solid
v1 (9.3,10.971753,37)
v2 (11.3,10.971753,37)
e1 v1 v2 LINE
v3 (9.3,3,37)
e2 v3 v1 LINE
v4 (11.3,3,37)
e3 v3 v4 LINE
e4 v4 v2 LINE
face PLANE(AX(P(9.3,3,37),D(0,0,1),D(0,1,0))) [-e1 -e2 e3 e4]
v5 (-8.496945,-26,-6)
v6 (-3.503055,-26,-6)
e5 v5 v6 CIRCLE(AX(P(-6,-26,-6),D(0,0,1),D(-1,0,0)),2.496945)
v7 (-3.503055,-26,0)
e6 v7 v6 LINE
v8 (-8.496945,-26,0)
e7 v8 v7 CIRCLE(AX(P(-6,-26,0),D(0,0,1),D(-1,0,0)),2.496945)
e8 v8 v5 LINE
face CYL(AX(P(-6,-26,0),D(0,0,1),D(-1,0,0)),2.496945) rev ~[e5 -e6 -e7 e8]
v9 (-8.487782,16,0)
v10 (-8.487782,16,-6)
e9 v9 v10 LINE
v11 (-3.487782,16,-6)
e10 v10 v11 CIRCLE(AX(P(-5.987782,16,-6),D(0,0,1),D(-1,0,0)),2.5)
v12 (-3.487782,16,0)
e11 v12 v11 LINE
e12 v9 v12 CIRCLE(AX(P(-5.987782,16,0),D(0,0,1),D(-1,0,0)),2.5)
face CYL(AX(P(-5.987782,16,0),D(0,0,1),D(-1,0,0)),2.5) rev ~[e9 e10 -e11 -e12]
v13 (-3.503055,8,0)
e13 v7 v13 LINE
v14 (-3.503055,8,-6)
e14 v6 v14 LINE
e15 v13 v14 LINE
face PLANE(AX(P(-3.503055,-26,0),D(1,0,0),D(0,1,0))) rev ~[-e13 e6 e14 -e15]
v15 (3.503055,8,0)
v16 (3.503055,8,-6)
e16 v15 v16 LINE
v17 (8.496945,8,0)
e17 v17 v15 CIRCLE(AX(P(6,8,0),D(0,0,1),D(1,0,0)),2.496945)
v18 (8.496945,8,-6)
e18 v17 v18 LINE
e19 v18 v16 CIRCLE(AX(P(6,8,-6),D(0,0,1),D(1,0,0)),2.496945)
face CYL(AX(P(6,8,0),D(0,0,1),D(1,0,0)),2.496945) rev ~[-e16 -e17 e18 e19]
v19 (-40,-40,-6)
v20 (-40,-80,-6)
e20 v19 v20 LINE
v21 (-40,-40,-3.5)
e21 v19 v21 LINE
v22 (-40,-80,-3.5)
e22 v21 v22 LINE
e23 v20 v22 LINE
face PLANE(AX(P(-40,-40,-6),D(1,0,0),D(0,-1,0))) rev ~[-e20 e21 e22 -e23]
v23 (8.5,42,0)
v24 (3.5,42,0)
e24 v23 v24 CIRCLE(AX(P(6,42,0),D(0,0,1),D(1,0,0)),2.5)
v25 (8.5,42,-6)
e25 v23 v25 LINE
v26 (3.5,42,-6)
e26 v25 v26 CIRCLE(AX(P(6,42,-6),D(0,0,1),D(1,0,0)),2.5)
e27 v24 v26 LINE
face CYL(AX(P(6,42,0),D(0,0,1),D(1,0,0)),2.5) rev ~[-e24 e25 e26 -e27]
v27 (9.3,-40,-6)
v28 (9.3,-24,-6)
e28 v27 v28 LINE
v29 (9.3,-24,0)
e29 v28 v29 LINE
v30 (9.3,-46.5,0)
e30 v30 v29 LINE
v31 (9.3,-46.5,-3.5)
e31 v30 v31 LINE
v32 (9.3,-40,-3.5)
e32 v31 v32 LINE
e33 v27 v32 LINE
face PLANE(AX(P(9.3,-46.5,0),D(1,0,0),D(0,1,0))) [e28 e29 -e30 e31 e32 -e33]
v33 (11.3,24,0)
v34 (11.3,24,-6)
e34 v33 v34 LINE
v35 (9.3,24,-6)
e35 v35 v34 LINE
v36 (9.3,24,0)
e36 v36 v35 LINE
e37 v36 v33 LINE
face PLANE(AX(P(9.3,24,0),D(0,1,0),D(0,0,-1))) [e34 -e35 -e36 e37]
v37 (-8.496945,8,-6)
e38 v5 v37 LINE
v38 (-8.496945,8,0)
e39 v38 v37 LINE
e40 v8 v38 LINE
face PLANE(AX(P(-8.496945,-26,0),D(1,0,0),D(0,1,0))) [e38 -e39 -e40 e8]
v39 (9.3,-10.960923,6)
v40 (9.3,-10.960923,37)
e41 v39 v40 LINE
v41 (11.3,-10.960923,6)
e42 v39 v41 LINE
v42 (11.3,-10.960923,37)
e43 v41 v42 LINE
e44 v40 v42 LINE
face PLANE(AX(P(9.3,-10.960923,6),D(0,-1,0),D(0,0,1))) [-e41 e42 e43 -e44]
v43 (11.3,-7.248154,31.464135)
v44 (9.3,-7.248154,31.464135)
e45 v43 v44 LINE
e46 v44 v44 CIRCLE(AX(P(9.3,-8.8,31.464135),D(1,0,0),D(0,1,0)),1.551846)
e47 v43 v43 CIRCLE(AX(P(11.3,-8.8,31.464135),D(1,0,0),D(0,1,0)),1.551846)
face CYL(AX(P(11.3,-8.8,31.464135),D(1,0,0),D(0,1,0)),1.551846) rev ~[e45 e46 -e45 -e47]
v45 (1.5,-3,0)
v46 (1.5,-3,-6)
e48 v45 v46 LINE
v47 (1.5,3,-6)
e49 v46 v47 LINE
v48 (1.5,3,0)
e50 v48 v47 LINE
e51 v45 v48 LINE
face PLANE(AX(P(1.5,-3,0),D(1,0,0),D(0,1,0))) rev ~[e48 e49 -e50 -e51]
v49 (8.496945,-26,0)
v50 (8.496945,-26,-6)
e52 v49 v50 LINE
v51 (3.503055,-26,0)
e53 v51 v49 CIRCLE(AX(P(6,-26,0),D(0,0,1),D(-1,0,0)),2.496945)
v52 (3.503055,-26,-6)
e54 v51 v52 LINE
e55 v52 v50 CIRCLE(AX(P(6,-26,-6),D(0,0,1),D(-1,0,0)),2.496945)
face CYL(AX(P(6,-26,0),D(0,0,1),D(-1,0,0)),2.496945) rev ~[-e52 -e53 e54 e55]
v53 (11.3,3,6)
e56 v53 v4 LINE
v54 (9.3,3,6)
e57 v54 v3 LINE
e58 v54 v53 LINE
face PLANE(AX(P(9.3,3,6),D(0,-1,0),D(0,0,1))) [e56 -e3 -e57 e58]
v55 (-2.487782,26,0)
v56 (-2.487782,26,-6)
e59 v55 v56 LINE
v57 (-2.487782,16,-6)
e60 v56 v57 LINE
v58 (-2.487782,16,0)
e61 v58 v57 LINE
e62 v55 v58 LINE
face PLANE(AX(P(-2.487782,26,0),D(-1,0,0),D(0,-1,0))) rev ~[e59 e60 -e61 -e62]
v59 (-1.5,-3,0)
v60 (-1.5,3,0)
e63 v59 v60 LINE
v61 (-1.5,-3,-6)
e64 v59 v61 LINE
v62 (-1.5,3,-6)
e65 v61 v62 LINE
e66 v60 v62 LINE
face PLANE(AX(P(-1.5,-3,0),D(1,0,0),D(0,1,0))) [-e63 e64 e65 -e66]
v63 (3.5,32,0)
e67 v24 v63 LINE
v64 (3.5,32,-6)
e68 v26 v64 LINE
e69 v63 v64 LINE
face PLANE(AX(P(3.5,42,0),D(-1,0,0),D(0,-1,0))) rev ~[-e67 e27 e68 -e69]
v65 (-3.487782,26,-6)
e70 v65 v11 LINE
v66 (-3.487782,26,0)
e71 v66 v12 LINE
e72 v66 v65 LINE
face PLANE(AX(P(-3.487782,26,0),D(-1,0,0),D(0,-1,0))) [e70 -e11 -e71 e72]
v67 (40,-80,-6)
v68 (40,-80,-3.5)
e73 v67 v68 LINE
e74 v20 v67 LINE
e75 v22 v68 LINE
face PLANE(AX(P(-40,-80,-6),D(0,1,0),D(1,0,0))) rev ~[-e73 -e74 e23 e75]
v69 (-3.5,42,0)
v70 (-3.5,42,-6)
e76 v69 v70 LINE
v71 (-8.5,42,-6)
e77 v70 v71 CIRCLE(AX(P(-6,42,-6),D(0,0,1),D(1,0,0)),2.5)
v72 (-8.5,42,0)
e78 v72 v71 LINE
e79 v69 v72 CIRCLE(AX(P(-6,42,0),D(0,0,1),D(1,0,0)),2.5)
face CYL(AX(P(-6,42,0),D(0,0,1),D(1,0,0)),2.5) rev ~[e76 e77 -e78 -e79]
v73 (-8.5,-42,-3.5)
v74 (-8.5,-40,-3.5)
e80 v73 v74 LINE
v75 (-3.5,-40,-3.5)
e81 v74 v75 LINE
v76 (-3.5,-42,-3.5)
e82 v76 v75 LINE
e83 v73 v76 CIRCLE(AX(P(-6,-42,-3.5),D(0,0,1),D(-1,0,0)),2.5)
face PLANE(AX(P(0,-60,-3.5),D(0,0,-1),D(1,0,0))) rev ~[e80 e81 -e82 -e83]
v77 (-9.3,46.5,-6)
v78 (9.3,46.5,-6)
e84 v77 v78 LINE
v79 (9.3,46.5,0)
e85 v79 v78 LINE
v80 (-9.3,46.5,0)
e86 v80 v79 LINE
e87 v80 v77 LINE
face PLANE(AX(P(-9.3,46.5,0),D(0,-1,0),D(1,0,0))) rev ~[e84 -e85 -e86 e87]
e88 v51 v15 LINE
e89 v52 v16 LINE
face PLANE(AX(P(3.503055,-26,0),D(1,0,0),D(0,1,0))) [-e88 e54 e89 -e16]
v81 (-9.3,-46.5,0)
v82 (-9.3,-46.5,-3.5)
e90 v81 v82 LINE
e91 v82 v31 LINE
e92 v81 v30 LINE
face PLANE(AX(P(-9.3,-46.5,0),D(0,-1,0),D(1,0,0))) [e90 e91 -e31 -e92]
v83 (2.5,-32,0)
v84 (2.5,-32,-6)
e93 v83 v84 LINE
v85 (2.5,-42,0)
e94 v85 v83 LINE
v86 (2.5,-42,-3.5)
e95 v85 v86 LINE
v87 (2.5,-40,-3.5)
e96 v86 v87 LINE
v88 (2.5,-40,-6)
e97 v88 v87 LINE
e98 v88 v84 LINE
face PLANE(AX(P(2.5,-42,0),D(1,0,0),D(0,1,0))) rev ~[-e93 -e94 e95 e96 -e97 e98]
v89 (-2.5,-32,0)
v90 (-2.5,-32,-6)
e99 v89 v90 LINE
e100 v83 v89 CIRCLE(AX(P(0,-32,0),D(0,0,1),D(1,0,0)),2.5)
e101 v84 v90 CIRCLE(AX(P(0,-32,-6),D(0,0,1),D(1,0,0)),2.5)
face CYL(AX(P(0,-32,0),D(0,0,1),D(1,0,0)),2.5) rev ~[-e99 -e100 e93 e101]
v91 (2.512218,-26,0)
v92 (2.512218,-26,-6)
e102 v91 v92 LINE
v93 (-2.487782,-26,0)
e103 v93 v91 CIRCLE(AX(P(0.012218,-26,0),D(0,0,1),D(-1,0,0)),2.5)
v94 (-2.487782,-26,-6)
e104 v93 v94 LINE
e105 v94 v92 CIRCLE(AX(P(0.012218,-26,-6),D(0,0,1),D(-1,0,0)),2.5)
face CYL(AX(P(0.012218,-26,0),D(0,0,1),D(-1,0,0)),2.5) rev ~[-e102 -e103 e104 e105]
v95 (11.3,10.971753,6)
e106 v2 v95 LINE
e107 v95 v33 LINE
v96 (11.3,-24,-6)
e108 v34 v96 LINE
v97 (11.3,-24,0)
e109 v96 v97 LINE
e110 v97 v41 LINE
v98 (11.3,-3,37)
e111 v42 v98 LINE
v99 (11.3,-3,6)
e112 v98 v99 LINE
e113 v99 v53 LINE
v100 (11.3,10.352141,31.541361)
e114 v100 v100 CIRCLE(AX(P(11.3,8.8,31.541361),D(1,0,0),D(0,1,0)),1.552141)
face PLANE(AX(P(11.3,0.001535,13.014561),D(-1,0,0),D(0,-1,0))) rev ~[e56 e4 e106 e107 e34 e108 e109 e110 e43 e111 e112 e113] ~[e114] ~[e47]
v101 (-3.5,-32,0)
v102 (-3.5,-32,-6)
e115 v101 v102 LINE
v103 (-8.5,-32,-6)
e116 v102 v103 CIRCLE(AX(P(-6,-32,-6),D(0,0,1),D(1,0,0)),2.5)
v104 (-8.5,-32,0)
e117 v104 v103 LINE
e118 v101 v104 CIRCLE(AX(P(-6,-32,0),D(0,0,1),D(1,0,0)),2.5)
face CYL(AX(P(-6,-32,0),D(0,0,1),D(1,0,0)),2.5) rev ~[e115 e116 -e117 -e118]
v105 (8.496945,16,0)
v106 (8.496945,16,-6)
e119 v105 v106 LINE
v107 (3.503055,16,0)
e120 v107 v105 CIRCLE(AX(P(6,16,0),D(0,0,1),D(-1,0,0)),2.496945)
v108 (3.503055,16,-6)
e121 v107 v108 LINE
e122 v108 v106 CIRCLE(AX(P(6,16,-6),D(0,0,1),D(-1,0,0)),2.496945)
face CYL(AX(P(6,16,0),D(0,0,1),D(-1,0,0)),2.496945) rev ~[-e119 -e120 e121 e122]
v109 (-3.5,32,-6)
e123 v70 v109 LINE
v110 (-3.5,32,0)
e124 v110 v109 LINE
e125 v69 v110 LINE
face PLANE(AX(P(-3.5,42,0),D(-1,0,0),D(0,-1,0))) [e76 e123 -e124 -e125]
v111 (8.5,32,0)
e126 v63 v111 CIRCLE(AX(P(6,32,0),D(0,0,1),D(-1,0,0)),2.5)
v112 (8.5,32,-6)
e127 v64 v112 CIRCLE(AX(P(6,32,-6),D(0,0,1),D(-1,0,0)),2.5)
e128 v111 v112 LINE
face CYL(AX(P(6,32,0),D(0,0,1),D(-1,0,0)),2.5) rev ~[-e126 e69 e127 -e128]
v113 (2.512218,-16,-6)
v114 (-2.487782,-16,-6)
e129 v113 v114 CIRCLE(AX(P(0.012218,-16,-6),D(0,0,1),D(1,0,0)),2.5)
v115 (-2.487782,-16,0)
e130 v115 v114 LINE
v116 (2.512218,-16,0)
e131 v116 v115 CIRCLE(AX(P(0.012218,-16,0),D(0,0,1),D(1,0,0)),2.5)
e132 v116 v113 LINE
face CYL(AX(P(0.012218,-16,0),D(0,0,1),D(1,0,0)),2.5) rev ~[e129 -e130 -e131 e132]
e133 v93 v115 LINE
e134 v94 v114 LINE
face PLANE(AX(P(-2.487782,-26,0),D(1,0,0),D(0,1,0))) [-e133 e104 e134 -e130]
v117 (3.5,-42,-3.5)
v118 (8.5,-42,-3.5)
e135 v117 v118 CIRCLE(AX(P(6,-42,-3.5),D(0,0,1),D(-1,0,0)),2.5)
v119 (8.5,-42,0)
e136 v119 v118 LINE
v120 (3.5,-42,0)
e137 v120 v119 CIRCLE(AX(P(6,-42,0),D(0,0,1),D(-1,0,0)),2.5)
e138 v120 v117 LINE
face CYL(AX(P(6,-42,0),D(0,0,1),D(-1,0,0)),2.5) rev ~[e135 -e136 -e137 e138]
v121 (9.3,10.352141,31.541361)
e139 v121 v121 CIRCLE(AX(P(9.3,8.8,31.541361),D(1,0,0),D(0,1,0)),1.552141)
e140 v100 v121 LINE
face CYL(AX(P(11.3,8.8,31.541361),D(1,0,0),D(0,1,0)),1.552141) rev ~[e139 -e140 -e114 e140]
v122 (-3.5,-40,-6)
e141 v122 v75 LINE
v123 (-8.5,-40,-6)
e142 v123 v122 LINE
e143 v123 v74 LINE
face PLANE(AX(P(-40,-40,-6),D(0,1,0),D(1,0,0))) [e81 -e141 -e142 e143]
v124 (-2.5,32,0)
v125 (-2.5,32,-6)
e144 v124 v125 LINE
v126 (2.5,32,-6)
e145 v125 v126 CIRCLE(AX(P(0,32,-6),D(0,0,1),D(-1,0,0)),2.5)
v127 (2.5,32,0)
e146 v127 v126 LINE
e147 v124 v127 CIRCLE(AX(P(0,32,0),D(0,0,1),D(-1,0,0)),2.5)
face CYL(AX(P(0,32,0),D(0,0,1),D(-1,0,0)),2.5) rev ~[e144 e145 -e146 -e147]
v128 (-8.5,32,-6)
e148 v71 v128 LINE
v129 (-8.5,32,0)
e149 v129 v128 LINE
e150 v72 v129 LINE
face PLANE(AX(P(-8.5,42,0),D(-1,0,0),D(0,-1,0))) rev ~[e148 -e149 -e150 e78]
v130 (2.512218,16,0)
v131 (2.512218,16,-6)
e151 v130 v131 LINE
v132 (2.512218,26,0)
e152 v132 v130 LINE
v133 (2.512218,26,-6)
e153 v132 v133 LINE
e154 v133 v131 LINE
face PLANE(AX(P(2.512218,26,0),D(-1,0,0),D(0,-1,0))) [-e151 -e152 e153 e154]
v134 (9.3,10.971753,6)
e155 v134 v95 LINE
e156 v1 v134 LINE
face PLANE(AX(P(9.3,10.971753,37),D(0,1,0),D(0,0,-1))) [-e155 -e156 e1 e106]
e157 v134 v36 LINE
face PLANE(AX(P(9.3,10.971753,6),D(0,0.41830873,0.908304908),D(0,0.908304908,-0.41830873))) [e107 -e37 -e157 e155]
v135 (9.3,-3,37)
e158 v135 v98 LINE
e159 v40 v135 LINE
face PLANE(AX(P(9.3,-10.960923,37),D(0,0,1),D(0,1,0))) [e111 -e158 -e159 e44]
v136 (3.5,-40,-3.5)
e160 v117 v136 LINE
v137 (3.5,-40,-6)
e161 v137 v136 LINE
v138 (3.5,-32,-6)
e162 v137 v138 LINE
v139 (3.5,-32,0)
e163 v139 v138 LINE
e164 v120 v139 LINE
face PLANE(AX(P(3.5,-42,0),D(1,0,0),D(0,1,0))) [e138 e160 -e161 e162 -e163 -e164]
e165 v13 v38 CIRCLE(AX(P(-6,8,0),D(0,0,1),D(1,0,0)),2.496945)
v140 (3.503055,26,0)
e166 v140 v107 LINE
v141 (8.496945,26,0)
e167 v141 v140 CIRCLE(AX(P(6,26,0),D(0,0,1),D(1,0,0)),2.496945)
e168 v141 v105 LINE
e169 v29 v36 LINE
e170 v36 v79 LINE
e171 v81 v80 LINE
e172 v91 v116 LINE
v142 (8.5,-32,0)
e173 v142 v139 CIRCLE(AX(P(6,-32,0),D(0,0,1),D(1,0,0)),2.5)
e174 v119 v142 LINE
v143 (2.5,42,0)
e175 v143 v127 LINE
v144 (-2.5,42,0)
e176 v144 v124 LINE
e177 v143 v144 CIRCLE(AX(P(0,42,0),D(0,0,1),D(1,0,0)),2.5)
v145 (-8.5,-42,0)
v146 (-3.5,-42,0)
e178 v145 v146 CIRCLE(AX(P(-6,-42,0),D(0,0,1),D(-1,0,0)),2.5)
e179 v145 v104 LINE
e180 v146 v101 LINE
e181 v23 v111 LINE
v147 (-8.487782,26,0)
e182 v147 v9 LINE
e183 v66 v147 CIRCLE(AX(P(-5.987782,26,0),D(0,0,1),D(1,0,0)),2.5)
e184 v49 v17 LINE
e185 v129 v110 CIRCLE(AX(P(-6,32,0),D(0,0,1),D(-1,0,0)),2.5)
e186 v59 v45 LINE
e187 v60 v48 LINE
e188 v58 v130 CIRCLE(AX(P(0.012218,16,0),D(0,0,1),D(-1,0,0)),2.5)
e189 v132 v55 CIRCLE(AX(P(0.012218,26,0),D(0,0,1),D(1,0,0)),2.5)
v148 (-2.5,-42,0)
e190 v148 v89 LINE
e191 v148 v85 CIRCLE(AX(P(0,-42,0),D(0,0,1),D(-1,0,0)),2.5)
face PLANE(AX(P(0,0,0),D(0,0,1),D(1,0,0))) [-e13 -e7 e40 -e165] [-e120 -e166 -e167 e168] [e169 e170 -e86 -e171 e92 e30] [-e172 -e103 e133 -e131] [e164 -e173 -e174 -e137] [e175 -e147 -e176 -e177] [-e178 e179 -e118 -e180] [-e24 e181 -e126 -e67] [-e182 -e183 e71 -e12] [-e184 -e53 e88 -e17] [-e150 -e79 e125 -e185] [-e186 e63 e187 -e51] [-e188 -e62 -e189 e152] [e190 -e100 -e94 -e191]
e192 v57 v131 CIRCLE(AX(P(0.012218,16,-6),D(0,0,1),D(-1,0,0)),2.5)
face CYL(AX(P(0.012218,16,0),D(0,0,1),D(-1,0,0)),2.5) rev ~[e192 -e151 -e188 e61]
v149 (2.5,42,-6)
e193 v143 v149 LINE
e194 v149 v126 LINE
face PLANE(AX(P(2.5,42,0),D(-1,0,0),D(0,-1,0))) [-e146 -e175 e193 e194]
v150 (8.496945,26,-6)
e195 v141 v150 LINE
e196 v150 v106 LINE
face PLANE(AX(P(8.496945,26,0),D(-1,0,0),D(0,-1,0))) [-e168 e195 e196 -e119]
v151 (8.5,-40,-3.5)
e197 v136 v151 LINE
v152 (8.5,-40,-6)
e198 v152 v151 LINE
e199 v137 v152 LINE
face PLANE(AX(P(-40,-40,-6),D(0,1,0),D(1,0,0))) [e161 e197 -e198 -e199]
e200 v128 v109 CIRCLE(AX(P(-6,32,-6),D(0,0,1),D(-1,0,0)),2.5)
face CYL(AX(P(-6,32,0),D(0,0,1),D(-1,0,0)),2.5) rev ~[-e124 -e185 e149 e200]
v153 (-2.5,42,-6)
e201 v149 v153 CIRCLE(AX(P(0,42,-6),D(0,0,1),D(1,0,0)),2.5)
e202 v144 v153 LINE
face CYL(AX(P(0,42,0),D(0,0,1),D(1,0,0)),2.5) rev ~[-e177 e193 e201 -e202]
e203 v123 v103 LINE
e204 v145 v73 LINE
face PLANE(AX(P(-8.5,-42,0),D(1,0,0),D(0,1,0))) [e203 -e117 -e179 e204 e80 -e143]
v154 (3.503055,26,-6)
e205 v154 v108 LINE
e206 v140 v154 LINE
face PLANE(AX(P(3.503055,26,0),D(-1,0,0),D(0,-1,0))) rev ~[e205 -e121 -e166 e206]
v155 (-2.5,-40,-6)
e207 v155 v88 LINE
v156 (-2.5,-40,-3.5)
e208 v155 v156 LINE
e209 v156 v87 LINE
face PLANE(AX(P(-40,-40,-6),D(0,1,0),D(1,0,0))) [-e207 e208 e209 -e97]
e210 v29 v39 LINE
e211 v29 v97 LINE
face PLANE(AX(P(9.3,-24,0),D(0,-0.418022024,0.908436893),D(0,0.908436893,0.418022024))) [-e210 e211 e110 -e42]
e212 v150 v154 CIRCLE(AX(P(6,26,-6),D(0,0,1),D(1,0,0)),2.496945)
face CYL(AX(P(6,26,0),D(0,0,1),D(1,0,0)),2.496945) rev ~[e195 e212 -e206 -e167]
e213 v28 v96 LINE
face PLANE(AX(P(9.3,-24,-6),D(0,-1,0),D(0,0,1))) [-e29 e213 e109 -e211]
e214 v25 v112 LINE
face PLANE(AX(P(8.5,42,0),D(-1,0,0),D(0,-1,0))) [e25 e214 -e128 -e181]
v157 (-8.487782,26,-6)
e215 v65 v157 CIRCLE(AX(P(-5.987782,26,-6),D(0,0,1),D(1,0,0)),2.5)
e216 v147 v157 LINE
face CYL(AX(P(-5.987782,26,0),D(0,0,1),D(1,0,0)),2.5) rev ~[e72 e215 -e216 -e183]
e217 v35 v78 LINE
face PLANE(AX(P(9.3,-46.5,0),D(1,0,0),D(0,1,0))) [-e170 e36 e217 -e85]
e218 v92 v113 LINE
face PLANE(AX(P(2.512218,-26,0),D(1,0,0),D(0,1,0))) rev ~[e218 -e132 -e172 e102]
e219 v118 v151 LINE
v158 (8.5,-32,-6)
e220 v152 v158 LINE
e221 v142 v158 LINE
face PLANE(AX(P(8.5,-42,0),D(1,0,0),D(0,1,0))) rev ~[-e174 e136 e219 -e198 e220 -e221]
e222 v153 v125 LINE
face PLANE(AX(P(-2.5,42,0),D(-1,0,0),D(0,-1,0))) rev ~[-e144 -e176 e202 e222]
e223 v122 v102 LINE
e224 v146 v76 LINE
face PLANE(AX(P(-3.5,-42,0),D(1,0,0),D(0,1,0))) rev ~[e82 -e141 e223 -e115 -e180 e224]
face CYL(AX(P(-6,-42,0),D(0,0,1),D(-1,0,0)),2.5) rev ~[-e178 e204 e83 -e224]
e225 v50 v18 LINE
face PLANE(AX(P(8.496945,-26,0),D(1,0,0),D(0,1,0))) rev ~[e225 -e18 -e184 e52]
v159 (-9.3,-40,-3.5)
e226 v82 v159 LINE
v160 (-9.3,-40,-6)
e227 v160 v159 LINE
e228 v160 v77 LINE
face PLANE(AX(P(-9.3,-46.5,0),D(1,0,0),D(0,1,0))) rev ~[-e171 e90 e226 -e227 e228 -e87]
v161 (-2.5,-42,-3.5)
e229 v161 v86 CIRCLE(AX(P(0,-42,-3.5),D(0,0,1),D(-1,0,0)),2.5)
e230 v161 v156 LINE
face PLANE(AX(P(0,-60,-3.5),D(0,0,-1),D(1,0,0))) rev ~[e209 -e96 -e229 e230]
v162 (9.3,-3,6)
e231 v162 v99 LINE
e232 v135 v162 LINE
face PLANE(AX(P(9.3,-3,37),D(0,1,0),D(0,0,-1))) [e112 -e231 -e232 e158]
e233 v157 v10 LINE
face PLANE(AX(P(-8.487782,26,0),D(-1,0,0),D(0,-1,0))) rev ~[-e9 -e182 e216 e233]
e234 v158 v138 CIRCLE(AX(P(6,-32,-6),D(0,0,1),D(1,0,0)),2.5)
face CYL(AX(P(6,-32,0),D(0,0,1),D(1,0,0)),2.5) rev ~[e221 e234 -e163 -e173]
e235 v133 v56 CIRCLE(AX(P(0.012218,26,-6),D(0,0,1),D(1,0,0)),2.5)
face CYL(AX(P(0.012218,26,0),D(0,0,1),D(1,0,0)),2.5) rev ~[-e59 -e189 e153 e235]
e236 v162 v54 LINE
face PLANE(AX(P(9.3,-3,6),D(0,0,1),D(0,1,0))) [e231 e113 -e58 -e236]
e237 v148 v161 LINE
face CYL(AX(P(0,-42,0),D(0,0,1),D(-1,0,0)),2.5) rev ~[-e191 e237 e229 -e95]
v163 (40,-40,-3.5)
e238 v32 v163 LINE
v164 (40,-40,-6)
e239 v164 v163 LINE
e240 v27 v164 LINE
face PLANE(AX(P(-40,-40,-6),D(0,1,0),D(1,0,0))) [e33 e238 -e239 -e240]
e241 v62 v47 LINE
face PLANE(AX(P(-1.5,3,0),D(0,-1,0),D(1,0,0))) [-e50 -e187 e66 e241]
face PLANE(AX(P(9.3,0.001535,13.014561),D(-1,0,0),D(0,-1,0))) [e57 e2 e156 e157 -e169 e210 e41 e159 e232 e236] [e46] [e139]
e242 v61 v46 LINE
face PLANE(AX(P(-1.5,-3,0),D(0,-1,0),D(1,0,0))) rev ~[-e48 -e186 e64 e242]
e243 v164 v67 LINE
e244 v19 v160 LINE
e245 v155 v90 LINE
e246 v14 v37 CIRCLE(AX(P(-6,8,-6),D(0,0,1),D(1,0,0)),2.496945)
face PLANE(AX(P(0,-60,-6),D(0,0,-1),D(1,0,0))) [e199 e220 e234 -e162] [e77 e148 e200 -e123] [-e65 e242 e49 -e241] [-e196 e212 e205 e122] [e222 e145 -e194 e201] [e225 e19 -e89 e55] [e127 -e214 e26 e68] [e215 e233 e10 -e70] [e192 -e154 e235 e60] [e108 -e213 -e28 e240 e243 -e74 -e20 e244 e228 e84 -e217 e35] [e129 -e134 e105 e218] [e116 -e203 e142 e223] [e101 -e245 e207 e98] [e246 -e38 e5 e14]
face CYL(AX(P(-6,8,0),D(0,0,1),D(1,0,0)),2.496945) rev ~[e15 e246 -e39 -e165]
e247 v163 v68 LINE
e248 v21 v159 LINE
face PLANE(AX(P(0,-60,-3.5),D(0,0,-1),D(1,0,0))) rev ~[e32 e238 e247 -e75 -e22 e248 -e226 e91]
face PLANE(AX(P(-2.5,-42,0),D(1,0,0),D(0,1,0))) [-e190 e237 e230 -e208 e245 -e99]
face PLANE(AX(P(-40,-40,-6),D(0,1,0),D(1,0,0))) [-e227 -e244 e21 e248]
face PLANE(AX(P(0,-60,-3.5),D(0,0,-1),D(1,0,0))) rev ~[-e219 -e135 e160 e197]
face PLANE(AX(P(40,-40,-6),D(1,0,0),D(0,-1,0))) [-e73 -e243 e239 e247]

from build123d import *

# Parameters (mm, degrees)
SKETCH_W        = 18.6
SKETCH_H        = 93
PAD_DEPTH       = 6
SKETCH001_W     = 3
SKETCH001_H     = 6
POCKET_DEPTH    = 6
POCKET001_DEPTH = 8
PAD001_DEPTH    = 2
SKETCH004_R     = 1.551846
SKETCH004_R_2   = 1.552141
POCKET002_DEPTH = 55
SKETCH005_W     = 80
SKETCH005_H     = 40
PAD002_DEPTH    = 2.5


with BuildPart() as part:
    # Sketch → Pad (new body)
    with BuildSketch(Plane.XY):
        Rectangle(SKETCH_W, SKETCH_H)
    extrude(amount=-PAD_DEPTH)

    # Sketch001 (on Face5 of Pad) → Pocket (cut)
    with BuildSketch(Plane.XY):
        Rectangle(SKETCH001_W, SKETCH001_H)
    extrude(amount=-POCKET_DEPTH, mode=Mode.SUBTRACT)

    # Sketch002 (on Face4 of Pocket) → Pocket001 (cut)
    with BuildSketch(Plane.XY):
        with BuildLine():
            ThreePointArc((-2.5, -42), (0, -44.5), (2.5, -42))
            Line((2.5, -42), (2.5, -32))
            ThreePointArc((2.5, -32), (0, -29.5), (-2.5, -32))
            Line((-2.5, -42), (-2.5, -32))
        make_face()
        with BuildLine():
            ThreePointArc((-8.5, -42), (-6, -44.5), (-3.5, -42))
            Line((-3.5, -42), (-3.5, -32))
            ThreePointArc((-3.5, -32), (-6, -29.5), (-8.5, -32))
            Line((-8.5, -42), (-8.5, -32))
        make_face()
        with BuildLine():
            ThreePointArc((3.5, -42), (6, -44.5), (8.5, -42))
            Line((8.5, -42), (8.5, -32))
            ThreePointArc((8.5, -32), (6, -29.5), (3.5, -32))
            Line((3.5, -42), (3.5, -32))
        make_face()
        with BuildLine():
            ThreePointArc((-2.487782, -26), (0.012218, -28.5), (2.512218, -26))
            Line((2.512218, -26), (2.512218, -16))
            ThreePointArc((2.512218, -16), (0.012218, -13.5), (-2.487782, -16))
            Line((-2.487782, -26), (-2.487782, -16))
        make_face()
        with BuildLine():
            ThreePointArc((-8.496945, -26), (-6, -28.496945), (-3.503055, -26))
            Line((-3.503055, -26), (-3.503055, 8))
            ThreePointArc((-3.503055, 8), (-6, 10.496945), (-8.496945, 8))
            Line((-8.496945, -26), (-8.496945, 8))
        make_face()
        with BuildLine():
            ThreePointArc((3.503055, -26), (6, -28.496945), (8.496945, -26))
            Line((8.496945, -26), (8.496945, 8))
            ThreePointArc((8.496945, 8), (6, 10.496945), (3.503055, 8))
            Line((3.503055, -26), (3.503055, 8))
        make_face()
        with BuildLine():
            ThreePointArc((2.5, 42), (0, 44.5), (-2.5, 42))
            Line((-2.5, 42), (-2.5, 32))
            ThreePointArc((-2.5, 32), (0, 29.5), (2.5, 32))
            Line((2.5, 42), (2.5, 32))
        make_face()
        with BuildLine():
            ThreePointArc((-3.5, 42), (-6, 44.5), (-8.5, 42))
            Line((-8.5, 42), (-8.5, 32))
            ThreePointArc((-8.5, 32), (-6, 29.5), (-3.5, 32))
            Line((-3.5, 42), (-3.5, 32))
        make_face()
        with BuildLine():
            ThreePointArc((8.5, 42), (6, 44.5), (3.5, 42))
            Line((3.5, 42), (3.5, 32))
            ThreePointArc((3.5, 32), (6, 29.5), (8.5, 32))
            Line((8.5, 42), (8.5, 32))
        make_face()
        with BuildLine():
            ThreePointArc((2.512218, 26), (0.012218, 28.5), (-2.487782, 26))
            Line((-2.487782, 26), (-2.487782, 16))
            ThreePointArc((-2.487782, 16), (0.012218, 13.5), (2.512218, 16))
            Line((2.512218, 26), (2.512218, 16))
        make_face()
        with BuildLine():
            ThreePointArc((-3.487782, 26), (-5.987782, 28.5), (-8.487782, 26))
            Line((-8.487782, 26), (-8.487782, 16))
            ThreePointArc((-8.487782, 16), (-5.987782, 13.5), (-3.487782, 16))
            Line((-3.487782, 26), (-3.487782, 16))
        make_face()
        with BuildLine():
            ThreePointArc((8.496945, 26), (6, 28.496945), (3.503055, 26))
            Line((3.503055, 26), (3.503055, 16))
            ThreePointArc((3.503055, 16), (6, 13.503055), (8.496945, 16))
            Line((8.496945, 26), (8.496945, 16))
        make_face()
    extrude(amount=-POCKET001_DEPTH, mode=Mode.SUBTRACT)

    # Sketch003 (on Face3 of Pocket001) → Pad001 (join)
    with BuildSketch(Plane.YZ.offset(9.3)):
        Polygon((-24, -6), (-24, 0), (-10.960923, 6), (-10.960923, 37), (-3, 37), (-3, 6), (3, 6), (3, 37), (10.971753, 37), (10.971753, 6), (24, 0), (24, -6), align=None)
    extrude(amount=PAD001_DEPTH)

    # Sketch004 → Pocket002 (cut)
    with BuildSketch(Plane.YZ.offset(11.3)):
        with Locations((-8.8, 31.464135)):
            Circle(SKETCH004_R)
        with Locations((8.8, 31.541361)):
            Circle(SKETCH004_R_2)
    extrude(amount=-POCKET002_DEPTH, mode=Mode.SUBTRACT)

    # Sketch005 (on Face5 of Pocket002) → Pad002 (join)
    with BuildSketch(Plane(origin=(0, 0, -6), x_dir=(1, 0, 0), z_dir=(0, 0, -1))):
        with Locations((0, 60)):
            Rectangle(SKETCH005_W, SKETCH005_H)
    extrude(amount=-PAD002_DEPTH)


solid = part.part
